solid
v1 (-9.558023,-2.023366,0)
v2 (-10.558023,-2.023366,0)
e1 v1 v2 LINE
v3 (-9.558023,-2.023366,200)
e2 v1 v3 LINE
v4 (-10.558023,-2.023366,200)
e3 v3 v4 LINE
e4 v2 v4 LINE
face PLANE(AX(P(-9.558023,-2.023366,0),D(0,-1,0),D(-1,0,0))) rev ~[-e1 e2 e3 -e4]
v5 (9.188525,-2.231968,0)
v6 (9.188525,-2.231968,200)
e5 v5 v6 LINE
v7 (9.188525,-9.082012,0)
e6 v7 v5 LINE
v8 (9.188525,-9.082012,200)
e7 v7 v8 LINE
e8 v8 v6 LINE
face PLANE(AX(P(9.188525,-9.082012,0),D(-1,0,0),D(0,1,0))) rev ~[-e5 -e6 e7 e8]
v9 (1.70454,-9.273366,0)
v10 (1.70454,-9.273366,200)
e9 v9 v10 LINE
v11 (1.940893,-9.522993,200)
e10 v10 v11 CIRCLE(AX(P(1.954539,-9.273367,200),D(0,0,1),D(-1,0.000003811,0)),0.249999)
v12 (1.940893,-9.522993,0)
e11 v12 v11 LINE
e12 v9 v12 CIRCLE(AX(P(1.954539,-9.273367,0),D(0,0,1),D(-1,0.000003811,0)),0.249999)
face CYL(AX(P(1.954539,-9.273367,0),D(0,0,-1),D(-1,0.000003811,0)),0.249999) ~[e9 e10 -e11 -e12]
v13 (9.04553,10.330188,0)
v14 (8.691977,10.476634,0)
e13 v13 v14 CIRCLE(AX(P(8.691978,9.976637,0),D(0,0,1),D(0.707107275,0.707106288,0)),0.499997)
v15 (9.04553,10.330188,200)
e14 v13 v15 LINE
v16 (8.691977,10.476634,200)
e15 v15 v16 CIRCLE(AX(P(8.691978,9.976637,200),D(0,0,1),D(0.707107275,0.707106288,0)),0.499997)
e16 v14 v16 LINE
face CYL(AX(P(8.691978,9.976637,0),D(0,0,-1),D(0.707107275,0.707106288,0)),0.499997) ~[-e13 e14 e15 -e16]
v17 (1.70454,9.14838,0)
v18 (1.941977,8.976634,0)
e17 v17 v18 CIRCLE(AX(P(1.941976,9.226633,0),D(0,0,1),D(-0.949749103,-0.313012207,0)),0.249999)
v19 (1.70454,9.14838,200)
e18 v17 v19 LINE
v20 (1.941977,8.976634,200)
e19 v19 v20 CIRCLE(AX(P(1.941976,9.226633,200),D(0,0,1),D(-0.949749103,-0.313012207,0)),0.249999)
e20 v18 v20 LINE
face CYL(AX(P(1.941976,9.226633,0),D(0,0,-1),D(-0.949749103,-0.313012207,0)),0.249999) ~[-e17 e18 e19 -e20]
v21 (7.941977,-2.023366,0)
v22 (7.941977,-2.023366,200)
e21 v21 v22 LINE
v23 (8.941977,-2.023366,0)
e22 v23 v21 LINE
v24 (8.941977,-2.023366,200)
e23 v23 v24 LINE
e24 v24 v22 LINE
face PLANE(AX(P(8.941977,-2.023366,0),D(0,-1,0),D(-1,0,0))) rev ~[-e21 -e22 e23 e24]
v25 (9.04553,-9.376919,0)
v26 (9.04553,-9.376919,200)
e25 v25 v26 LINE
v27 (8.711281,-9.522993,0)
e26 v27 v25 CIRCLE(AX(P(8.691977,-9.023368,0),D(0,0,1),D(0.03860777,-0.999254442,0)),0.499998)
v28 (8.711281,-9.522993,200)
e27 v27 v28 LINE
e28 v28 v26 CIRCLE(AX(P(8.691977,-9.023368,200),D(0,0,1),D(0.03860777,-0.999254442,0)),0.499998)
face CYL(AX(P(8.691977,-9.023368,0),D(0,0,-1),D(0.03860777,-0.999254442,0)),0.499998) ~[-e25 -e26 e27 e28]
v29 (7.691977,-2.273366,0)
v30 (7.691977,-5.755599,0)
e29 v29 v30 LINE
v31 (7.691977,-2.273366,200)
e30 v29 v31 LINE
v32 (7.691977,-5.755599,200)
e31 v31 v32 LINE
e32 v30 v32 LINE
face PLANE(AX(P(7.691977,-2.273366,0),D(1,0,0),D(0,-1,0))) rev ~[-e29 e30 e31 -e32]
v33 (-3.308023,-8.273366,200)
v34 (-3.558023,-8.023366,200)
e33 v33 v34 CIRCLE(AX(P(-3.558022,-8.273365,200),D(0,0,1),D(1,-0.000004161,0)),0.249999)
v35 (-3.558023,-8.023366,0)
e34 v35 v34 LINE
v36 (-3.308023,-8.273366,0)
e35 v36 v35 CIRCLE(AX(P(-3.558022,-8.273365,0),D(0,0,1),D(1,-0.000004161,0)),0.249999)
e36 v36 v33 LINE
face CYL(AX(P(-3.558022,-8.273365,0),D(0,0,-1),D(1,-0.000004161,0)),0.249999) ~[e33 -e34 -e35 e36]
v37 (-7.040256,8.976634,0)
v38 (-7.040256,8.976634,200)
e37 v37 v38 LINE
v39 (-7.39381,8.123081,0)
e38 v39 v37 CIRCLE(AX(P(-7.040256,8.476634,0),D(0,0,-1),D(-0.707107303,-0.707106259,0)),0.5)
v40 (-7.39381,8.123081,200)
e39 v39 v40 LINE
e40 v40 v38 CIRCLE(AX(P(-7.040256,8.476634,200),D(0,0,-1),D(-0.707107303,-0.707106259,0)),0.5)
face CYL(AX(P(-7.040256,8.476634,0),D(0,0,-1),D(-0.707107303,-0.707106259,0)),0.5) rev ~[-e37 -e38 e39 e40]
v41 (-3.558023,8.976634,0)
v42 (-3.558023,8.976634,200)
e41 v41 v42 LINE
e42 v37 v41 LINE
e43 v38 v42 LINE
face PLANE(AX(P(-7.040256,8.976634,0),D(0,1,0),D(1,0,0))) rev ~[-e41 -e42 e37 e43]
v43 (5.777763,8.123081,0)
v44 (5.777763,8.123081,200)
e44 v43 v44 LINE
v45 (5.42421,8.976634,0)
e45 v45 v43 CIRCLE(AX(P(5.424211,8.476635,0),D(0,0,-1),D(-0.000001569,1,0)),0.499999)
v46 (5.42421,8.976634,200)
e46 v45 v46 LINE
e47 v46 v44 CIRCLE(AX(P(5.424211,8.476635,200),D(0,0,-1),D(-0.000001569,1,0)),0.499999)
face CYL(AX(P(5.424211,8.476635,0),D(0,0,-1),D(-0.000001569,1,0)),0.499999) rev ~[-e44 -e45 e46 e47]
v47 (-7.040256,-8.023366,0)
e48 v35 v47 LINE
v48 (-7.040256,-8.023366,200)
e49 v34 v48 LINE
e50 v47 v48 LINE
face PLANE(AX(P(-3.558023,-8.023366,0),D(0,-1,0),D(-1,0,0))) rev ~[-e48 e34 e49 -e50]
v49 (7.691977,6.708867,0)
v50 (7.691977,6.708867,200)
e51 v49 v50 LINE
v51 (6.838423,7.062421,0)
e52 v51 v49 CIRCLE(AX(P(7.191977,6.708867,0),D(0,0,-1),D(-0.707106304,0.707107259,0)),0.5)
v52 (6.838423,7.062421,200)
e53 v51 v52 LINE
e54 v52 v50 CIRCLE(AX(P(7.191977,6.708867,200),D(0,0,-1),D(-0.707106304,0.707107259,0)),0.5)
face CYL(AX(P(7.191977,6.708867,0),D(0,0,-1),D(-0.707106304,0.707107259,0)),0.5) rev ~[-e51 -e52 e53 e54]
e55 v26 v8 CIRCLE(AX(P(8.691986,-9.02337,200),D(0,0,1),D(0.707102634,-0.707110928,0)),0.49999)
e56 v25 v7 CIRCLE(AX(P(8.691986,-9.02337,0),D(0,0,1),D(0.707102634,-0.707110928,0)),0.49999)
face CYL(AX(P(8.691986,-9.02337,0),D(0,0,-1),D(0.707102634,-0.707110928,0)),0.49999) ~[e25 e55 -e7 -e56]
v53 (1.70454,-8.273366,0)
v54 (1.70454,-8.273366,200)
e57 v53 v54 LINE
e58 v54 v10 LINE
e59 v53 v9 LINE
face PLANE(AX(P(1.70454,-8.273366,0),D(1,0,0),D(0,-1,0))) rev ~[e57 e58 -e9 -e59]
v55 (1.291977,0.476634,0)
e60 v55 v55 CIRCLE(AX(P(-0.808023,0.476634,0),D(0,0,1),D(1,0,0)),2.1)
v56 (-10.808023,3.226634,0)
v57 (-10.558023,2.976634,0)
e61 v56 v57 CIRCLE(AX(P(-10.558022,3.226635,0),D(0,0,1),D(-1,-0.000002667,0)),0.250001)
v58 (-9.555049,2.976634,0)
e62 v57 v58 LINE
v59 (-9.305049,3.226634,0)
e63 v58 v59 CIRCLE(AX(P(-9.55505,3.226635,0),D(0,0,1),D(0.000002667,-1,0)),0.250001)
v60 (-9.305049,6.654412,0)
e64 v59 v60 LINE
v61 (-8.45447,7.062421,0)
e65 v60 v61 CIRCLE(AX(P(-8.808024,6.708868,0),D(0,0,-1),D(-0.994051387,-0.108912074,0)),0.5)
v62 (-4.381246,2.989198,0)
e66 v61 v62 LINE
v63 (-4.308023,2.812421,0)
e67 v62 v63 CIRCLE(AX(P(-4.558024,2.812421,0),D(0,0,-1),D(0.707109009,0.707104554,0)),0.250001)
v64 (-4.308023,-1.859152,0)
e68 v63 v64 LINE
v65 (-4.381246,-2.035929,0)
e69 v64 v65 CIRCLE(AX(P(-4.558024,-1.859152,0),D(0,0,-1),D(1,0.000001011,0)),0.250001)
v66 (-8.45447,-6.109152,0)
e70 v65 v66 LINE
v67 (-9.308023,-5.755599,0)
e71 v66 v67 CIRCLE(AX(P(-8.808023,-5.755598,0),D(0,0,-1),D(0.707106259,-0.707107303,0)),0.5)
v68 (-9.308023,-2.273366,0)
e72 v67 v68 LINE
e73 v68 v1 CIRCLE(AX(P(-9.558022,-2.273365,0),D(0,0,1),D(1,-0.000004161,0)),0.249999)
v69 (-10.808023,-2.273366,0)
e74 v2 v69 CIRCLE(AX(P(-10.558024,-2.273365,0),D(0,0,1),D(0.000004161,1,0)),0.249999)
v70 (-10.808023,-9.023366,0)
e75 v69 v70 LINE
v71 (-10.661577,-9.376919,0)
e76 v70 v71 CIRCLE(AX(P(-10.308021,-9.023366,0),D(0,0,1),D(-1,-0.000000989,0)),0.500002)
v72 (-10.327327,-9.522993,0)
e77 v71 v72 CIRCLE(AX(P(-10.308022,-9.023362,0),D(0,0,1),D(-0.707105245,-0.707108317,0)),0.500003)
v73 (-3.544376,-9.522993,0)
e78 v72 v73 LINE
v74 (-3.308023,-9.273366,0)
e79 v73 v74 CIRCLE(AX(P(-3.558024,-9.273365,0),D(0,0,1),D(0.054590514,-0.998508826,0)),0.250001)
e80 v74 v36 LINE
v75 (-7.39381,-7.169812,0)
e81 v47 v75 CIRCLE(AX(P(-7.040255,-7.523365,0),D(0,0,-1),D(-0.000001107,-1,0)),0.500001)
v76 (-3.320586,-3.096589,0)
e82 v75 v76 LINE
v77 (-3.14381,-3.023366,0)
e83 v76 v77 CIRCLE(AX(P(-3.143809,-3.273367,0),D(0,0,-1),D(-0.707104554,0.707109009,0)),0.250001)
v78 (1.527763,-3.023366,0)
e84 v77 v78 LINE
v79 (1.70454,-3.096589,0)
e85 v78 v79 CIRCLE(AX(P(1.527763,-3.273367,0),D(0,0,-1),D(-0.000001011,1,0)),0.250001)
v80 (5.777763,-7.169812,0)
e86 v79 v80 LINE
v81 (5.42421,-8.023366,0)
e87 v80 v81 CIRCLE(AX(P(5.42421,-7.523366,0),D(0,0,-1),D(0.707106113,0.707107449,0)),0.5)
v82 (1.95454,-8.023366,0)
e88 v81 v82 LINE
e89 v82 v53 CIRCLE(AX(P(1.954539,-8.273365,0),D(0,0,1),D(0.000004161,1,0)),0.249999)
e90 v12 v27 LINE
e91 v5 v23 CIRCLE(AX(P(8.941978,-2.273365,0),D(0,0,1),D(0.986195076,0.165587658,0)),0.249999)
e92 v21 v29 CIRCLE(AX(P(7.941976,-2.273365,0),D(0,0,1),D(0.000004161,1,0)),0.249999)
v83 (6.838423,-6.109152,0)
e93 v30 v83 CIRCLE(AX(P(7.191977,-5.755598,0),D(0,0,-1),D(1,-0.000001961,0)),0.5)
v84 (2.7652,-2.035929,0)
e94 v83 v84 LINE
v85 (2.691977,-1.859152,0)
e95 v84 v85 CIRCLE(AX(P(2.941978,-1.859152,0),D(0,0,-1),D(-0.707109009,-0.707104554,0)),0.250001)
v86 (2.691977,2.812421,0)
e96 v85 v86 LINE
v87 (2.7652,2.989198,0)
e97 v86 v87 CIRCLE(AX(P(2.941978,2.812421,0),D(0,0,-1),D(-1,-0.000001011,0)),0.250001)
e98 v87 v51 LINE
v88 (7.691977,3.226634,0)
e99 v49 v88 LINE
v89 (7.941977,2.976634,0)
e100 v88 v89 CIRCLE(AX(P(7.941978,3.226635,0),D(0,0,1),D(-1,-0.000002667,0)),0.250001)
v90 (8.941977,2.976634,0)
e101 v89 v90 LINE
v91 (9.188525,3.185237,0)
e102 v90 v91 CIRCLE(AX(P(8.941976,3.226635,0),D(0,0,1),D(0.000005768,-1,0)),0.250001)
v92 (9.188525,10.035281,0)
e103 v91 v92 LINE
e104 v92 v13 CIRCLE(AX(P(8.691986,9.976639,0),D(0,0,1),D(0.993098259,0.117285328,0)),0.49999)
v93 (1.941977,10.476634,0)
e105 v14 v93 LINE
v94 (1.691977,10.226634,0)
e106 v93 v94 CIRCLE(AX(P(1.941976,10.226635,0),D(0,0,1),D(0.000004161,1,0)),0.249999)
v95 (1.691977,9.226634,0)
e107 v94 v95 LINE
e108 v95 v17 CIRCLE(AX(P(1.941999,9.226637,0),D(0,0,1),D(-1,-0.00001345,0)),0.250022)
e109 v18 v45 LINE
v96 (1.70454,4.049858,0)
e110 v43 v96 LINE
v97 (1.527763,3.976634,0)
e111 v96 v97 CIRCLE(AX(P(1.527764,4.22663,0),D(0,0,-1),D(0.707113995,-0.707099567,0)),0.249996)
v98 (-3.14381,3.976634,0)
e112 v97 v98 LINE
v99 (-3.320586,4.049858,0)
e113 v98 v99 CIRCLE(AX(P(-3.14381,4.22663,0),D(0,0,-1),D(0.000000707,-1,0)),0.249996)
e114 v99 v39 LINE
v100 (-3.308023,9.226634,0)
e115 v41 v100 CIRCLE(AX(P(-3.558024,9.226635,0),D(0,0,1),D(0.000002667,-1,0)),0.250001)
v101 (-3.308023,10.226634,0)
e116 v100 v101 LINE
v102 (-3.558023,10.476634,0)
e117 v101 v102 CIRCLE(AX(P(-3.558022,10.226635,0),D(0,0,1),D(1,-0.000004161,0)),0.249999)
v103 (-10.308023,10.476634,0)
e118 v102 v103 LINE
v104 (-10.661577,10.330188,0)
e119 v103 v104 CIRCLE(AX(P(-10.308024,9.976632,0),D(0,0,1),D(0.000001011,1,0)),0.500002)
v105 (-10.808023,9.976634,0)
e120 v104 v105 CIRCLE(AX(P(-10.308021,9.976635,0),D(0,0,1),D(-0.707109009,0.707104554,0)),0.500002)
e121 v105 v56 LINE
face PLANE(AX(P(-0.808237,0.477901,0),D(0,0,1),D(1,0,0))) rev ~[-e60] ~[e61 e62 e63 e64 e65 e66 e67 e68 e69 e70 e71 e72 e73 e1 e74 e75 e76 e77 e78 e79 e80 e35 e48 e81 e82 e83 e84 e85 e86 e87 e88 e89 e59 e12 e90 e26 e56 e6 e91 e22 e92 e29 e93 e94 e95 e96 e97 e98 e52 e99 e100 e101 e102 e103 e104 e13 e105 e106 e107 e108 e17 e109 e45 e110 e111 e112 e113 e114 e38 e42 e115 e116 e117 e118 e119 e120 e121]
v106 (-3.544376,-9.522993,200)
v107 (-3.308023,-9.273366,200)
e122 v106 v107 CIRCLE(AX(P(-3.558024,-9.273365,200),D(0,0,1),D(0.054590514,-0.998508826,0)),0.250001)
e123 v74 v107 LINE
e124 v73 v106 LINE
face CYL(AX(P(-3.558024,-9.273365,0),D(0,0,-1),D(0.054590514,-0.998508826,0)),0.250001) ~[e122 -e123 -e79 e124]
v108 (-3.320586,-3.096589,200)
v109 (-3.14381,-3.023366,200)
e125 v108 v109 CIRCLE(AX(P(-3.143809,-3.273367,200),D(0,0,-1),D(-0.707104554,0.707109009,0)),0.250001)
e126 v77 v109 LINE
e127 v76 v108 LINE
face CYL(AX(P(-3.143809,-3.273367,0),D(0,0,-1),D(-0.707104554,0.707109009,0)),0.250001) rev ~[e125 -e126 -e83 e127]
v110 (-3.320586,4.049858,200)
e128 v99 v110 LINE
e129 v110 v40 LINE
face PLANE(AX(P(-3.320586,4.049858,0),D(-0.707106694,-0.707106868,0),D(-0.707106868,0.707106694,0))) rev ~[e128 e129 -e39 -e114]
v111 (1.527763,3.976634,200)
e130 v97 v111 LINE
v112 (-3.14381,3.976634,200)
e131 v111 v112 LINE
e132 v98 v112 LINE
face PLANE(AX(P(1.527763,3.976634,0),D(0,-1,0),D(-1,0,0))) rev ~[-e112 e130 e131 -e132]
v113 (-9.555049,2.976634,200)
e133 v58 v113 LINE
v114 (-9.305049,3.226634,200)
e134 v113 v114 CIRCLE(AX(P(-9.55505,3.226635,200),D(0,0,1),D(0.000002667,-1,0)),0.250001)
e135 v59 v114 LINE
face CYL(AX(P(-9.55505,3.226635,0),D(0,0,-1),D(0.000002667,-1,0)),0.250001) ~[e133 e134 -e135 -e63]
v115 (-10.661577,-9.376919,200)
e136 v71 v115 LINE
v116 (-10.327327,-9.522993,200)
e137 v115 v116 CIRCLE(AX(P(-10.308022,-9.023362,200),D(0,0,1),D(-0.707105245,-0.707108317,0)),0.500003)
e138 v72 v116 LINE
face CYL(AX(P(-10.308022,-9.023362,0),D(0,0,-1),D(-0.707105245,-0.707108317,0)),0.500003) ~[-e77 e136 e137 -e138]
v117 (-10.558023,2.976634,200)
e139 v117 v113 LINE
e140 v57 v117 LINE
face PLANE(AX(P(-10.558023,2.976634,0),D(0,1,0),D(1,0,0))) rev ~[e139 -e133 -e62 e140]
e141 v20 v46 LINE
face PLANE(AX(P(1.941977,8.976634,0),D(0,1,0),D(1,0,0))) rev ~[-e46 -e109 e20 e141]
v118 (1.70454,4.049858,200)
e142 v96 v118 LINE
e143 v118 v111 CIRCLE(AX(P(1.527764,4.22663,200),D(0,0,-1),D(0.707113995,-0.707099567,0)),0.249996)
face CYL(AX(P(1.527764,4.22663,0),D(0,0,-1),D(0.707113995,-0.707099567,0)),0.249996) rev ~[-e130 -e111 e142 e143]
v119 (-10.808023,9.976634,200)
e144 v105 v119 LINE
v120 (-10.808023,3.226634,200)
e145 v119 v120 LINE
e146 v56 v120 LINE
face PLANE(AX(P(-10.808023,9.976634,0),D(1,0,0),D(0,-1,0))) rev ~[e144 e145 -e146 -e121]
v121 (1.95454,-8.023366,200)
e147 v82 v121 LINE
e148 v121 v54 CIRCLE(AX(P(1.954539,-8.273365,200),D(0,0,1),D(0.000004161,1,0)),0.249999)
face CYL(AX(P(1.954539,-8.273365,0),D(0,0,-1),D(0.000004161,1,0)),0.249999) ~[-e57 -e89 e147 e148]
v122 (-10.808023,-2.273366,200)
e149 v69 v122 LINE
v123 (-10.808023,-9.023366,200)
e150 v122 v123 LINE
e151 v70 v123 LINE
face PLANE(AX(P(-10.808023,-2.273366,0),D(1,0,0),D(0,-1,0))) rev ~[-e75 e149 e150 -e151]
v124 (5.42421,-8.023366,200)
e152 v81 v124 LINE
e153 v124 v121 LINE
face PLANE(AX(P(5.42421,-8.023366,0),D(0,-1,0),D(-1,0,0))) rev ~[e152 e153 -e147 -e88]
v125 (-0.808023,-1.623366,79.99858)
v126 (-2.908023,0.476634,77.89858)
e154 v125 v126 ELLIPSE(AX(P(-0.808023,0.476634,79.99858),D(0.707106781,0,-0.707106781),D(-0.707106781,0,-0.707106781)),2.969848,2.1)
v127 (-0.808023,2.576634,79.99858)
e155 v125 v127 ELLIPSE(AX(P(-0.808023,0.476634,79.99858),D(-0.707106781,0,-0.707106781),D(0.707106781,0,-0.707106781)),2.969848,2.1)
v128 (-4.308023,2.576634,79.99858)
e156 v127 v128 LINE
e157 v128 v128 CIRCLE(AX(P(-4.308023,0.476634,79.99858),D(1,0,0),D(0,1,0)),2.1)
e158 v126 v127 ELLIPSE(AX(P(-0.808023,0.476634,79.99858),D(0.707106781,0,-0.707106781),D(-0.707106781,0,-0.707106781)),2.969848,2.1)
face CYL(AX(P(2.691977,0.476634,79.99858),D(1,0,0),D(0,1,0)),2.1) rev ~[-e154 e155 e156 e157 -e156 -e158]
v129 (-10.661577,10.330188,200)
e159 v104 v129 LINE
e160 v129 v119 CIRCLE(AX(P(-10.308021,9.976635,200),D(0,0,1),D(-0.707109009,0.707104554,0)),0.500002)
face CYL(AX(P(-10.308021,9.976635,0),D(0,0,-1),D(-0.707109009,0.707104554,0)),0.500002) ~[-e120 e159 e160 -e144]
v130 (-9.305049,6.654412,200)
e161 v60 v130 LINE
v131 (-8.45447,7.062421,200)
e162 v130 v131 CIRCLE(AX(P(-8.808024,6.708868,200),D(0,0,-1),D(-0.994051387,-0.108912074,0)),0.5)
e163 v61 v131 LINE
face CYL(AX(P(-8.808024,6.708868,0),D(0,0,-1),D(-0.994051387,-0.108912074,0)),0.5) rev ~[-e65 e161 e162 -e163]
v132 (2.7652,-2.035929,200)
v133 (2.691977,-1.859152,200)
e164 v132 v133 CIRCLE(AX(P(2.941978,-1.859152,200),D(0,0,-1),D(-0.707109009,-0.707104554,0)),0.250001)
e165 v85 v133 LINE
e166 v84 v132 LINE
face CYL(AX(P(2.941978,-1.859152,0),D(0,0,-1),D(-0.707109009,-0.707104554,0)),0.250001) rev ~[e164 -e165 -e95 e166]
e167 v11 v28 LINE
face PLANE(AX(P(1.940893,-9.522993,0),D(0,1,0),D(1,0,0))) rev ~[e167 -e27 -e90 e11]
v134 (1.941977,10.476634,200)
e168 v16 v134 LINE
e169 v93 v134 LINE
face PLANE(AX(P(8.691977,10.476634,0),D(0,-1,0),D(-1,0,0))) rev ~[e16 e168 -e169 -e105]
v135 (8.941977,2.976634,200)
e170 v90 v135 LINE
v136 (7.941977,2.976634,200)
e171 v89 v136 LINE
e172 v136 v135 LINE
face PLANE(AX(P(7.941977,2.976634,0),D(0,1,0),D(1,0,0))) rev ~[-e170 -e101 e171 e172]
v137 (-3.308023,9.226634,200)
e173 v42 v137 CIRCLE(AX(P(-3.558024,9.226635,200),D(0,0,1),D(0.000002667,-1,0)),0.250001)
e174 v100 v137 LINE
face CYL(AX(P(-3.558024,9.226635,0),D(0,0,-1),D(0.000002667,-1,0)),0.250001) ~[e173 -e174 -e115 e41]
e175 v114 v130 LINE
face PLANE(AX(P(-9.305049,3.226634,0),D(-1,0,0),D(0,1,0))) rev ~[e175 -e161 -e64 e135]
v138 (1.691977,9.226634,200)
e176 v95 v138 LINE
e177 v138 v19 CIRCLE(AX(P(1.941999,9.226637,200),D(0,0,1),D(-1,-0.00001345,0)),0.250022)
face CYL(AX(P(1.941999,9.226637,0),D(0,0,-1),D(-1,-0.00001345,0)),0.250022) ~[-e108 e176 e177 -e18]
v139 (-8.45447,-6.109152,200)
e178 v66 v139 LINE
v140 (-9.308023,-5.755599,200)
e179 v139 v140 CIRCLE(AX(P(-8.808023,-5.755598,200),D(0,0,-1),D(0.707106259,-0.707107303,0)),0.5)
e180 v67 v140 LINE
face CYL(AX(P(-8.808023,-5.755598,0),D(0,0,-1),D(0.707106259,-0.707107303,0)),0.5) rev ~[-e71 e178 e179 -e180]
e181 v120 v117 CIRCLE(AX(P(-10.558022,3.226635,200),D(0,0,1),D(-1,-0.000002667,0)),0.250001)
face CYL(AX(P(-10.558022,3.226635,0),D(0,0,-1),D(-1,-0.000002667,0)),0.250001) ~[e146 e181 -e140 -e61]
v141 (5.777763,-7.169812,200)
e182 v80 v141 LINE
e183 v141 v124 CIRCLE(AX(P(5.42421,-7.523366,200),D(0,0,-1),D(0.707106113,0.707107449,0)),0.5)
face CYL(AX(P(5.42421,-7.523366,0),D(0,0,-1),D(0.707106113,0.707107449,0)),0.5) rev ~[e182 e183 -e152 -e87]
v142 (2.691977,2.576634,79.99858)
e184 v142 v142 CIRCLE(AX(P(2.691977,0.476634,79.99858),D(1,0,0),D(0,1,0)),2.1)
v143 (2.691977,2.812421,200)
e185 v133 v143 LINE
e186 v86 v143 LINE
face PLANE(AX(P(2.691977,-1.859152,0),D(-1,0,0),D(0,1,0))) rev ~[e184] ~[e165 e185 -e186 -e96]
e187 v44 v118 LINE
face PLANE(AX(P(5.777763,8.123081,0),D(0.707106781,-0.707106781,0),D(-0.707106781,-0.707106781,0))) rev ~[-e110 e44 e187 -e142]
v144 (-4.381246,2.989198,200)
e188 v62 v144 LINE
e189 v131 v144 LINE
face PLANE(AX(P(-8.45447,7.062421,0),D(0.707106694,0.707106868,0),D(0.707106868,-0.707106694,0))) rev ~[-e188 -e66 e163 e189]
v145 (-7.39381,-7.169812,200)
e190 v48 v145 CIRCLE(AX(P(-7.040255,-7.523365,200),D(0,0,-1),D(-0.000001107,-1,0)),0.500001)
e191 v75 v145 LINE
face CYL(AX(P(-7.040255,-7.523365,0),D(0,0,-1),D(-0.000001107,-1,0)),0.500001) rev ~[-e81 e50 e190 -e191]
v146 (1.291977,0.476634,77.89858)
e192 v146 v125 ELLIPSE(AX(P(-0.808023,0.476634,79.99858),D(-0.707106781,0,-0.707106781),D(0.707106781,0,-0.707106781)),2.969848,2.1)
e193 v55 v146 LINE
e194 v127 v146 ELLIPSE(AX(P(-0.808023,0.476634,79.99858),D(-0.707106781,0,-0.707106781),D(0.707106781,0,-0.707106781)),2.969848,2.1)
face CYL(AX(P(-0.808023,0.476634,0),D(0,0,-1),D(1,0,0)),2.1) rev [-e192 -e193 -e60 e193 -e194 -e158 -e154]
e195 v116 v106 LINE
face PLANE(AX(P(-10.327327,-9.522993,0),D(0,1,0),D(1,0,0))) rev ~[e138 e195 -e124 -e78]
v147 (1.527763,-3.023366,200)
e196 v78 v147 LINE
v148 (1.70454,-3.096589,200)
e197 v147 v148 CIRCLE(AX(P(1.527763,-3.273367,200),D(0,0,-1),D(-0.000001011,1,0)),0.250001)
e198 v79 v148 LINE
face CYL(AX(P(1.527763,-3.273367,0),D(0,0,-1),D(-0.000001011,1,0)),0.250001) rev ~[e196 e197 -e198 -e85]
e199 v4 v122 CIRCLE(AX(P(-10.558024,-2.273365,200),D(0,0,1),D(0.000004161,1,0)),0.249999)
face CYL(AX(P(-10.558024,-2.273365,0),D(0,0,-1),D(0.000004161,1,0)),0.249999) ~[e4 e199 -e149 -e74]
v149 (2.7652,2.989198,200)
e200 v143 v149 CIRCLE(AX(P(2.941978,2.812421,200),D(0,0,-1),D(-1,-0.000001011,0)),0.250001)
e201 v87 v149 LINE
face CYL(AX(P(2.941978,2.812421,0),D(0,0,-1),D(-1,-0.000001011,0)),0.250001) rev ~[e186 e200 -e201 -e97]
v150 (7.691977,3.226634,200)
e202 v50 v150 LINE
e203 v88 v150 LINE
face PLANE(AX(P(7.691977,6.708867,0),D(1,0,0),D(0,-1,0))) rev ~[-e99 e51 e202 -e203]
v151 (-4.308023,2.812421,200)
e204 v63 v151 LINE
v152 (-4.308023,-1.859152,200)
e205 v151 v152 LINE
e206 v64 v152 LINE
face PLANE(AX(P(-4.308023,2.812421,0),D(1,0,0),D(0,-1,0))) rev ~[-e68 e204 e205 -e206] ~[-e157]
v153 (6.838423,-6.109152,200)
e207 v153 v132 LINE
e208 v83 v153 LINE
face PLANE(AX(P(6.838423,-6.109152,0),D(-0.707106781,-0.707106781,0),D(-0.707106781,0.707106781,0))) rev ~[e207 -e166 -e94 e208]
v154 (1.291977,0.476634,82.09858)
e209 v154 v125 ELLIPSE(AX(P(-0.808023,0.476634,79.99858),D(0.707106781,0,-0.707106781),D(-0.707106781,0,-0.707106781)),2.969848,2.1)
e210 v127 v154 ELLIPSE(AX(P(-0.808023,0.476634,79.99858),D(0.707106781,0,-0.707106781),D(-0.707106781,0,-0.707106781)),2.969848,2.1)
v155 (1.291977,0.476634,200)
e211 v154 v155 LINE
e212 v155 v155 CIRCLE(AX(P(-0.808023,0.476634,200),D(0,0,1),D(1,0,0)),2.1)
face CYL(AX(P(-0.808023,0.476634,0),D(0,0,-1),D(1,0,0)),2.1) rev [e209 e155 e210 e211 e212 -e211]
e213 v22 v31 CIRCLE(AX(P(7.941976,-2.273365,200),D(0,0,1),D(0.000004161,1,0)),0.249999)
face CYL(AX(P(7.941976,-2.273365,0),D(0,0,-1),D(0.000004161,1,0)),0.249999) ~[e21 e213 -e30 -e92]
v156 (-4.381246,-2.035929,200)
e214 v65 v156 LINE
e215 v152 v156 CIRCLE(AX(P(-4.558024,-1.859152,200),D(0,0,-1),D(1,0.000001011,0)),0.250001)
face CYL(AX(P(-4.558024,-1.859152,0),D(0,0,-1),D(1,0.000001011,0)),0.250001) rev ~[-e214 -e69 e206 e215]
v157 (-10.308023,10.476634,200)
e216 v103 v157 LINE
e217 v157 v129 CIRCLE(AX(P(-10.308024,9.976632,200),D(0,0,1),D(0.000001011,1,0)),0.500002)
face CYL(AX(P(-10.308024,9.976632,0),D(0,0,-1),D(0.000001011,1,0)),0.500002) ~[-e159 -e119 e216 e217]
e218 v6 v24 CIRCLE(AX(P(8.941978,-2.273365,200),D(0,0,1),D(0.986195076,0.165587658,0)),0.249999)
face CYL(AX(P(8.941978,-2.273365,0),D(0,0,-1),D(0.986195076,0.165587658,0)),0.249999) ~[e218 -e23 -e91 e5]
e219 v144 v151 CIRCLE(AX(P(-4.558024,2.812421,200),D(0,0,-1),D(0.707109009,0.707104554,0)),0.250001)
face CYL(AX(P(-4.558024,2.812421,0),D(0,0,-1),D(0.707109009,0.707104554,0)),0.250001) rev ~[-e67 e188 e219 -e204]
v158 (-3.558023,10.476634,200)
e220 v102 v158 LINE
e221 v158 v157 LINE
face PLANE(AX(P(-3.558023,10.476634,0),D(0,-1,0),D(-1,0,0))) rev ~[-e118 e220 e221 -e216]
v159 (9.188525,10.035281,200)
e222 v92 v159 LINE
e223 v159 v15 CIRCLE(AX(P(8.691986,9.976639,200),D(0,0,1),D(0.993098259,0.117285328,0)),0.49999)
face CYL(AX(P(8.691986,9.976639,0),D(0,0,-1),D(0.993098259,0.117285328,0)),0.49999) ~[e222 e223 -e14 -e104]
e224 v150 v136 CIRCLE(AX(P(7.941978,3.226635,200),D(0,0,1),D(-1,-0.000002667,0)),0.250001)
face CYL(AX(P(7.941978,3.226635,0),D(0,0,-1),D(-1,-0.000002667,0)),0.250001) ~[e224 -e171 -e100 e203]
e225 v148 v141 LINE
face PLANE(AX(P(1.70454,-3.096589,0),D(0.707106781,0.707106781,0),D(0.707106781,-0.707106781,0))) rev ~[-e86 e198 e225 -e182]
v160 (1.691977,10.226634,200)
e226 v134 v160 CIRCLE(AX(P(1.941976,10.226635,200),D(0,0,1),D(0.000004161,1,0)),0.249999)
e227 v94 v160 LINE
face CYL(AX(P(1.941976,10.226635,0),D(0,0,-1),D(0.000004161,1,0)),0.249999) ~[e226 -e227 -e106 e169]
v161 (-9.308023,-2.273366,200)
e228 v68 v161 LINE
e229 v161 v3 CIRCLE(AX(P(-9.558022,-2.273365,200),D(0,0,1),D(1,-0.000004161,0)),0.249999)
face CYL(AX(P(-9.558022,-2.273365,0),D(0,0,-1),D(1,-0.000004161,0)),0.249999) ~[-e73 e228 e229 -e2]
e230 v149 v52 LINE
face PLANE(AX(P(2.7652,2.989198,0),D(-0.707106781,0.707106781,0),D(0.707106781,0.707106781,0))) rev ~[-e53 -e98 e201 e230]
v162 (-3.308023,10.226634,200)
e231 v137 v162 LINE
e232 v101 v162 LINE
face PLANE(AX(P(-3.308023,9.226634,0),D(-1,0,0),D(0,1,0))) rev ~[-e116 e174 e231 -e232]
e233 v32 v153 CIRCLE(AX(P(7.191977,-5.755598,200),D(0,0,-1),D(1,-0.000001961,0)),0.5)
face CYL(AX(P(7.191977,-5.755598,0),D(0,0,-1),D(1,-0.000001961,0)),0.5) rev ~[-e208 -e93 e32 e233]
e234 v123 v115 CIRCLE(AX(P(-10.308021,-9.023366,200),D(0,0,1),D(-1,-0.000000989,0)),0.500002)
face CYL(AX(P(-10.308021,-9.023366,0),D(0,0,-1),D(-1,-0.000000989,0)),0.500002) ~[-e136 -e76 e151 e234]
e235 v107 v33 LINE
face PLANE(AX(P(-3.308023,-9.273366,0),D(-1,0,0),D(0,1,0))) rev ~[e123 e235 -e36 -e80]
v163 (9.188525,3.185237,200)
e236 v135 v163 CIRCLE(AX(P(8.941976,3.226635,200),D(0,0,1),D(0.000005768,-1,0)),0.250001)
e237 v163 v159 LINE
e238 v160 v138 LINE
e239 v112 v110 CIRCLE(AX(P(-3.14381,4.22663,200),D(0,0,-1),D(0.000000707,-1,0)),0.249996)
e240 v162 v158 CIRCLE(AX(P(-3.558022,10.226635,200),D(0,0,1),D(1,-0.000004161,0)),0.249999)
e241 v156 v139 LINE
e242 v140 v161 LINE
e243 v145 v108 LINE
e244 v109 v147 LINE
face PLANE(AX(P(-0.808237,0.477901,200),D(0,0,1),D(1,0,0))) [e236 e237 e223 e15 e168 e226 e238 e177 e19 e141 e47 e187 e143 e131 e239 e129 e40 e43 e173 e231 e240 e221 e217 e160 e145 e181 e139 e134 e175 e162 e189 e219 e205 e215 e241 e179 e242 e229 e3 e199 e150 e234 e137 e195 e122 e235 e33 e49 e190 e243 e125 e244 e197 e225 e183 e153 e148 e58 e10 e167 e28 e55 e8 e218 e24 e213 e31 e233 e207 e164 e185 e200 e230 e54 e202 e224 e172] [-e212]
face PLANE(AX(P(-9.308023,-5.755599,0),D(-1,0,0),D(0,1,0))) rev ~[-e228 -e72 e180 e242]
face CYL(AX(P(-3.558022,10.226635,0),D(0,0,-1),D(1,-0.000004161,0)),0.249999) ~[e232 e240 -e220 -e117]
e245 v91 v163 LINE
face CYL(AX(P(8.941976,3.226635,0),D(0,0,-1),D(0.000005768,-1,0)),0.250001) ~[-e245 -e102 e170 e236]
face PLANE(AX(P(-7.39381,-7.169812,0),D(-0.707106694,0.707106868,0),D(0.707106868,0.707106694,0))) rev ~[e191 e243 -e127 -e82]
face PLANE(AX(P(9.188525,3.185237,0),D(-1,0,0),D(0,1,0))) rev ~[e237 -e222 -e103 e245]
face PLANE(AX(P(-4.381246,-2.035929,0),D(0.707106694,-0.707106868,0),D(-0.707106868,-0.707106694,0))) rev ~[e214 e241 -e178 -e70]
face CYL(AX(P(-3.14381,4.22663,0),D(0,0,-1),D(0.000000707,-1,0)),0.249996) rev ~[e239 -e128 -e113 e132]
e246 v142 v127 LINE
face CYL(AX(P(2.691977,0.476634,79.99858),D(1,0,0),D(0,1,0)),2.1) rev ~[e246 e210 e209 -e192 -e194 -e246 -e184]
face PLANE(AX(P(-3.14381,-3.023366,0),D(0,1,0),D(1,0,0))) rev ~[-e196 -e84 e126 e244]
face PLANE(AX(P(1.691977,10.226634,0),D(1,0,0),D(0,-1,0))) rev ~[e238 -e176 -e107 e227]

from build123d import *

# Parameters (mm, degrees)
F0_R     = 2.1
F1_DEPTH = 200
F2_R     = 2.1
F3_DEPTH = 7


with BuildPart() as f1:
    # F0 (on Top) → F1 (new body)
    with BuildSketch(Plane.XY):
        with BuildLine():
            ThreePointArc((-3.308023, 10.226634), (-3.381246, 10.403411), (-3.558023, 10.476634))
            Line((-3.558023, 10.476634), (-10.308023, 10.476634))
            ThreePointArc((-10.308023, 10.476634), (-10.499365, 10.438574), (-10.661577, 10.330188))
            ThreePointArc((-10.661577, 10.330188), (-10.769963, 10.167976), (-10.808023, 9.976634))
            Line((-10.808023, 9.976634), (-10.808023, 3.226634))
            ThreePointArc((-10.808023, 3.226634), (-10.7348, 3.049858), (-10.558023, 2.976634))
            Line((-10.558023, 2.976634), (-9.555049, 2.976634))
            ThreePointArc((-9.555049, 2.976634), (-9.378272, 3.049858), (-9.305049, 3.226634))
            Line((-9.305049, 3.226634), (-9.305049, 6.654412))
            ThreePointArc((-9.305049, 6.654412), (-9.024273, 7.159685), (-8.45447, 7.062421))
            Line((-8.45447, 7.062421), (-4.381246, 2.989198))
            ThreePointArc((-4.381246, 2.989198), (-4.327053, 2.908092), (-4.308023, 2.812421))
            Line((-4.308023, 2.812421), (-4.308023, -1.859152))
            ThreePointArc((-4.308023, -1.859152), (-4.327053, -1.954823), (-4.381246, -2.035929))
            Line((-4.381246, -2.035929), (-8.45447, -6.109152))
            ThreePointArc((-8.45447, -6.109152), (-8.999365, -6.217538), (-9.308023, -5.755599))
            Line((-9.308023, -5.755599), (-9.308023, -2.273366))
            ThreePointArc((-9.308023, -2.273366), (-9.381246, -2.096589), (-9.558023, -2.023366))
            Line((-9.558023, -2.023366), (-10.558023, -2.023366))
            ThreePointArc((-10.558023, -2.023366), (-10.7348, -2.096589), (-10.808023, -2.273366))
            Line((-10.808023, -2.273366), (-10.808023, -9.023366))
            ThreePointArc((-10.808023, -9.023366), (-10.769963, -9.214707), (-10.661577, -9.376919))
            ThreePointArc((-10.661577, -9.376919), (-10.508248, -9.481525), (-10.327327, -9.522993))
            Line((-10.327327, -9.522993), (-3.544376, -9.522993))
            ThreePointArc((-3.544376, -9.522993), (-3.376486, -9.44525), (-3.308023, -9.273366))
            Line((-3.308023, -9.273366), (-3.308023, -8.273366))
            ThreePointArc((-3.308023, -8.273366), (-3.381246, -8.096589), (-3.558023, -8.023366))
            Line((-3.558023, -8.023366), (-7.040256, -8.023366))
            ThreePointArc((-7.040256, -8.023366), (-7.502196, -7.714707), (-7.39381, -7.169812))
            Line((-7.39381, -7.169812), (-3.320586, -3.096589))
            ThreePointArc((-3.320586, -3.096589), (-3.23948, -3.042396), (-3.14381, -3.023366))
            Line((-3.14381, -3.023366), (1.527763, -3.023366))
            ThreePointArc((1.527763, -3.023366), (1.623434, -3.042396), (1.70454, -3.096589))
            Line((1.70454, -3.096589), (5.777763, -7.169812))
            ThreePointArc((5.777763, -7.169812), (5.88615, -7.714707), (5.42421, -8.023366))
            Line((5.42421, -8.023366), (1.95454, -8.023366))
            ThreePointArc((1.95454, -8.023366), (1.777763, -8.096589), (1.70454, -8.273366))
            Line((1.70454, -8.273366), (1.70454, -9.273366))
            ThreePointArc((1.70454, -9.273366), (1.773002, -9.44525), (1.940893, -9.522993))
            Line((1.940893, -9.522993), (8.711281, -9.522993))
            ThreePointArc((8.711281, -9.522993), (8.892202, -9.481525), (9.04553, -9.376919))
            ThreePointArc((9.04553, -9.376919), (9.141878, -9.241515), (9.188525, -9.082012))
            Line((9.188525, -9.082012), (9.188525, -2.231968))
            ThreePointArc((9.188525, -2.231968), (9.103455, -2.082513), (8.941977, -2.023366))
            Line((8.941977, -2.023366), (7.941977, -2.023366))
            ThreePointArc((7.941977, -2.023366), (7.7652, -2.096589), (7.691977, -2.273366))
            Line((7.691977, -2.273366), (7.691977, -5.755599))
            ThreePointArc((7.691977, -5.755599), (7.383319, -6.217538), (6.838423, -6.109152))
            Line((6.838423, -6.109152), (2.7652, -2.035929))
            ThreePointArc((2.7652, -2.035929), (2.711007, -1.954823), (2.691977, -1.859152))
            Line((2.691977, -1.859152), (2.691977, 2.812421))
            ThreePointArc((2.691977, 2.812421), (2.711007, 2.908092), (2.7652, 2.989198))
            Line((2.7652, 2.989198), (6.838423, 7.062421))
            ThreePointArc((6.838423, 7.062421), (7.383319, 7.170807), (7.691977, 6.708867))
            Line((7.691977, 6.708867), (7.691977, 3.226634))
            ThreePointArc((7.691977, 3.226634), (7.7652, 3.049858), (7.941977, 2.976634))
            Line((7.941977, 2.976634), (8.941977, 2.976634))
            ThreePointArc((8.941977, 2.976634), (9.103455, 3.035782), (9.188525, 3.185237))
            Line((9.188525, 3.185237), (9.188525, 10.035281))
            ThreePointArc((9.188525, 10.035281), (9.141878, 10.194784), (9.04553, 10.330188))
            ThreePointArc((9.04553, 10.330188), (8.883319, 10.438574), (8.691977, 10.476634))
            Line((8.691977, 10.476634), (1.941977, 10.476634))
            ThreePointArc((1.941977, 10.476634), (1.7652, 10.403411), (1.691977, 10.226634))
            Line((1.691977, 10.226634), (1.691977, 9.226634))
            ThreePointArc((1.691977, 9.226634), (1.695138, 9.187006), (1.70454, 9.14838))
            ThreePointArc((1.70454, 9.14838), (1.795456, 9.024071), (1.941977, 8.976634))
            Line((1.941977, 8.976634), (5.42421, 8.976634))
            ThreePointArc((5.42421, 8.976634), (5.88615, 8.667976), (5.777763, 8.123081))
            Line((5.777763, 8.123081), (1.70454, 4.049858))
            ThreePointArc((1.70454, 4.049858), (1.623434, 3.995664), (1.527763, 3.976634))
            Line((1.527763, 3.976634), (-3.14381, 3.976634))
            ThreePointArc((-3.14381, 3.976634), (-3.23948, 3.995664), (-3.320586, 4.049858))
            Line((-3.320586, 4.049858), (-7.39381, 8.123081))
            ThreePointArc((-7.39381, 8.123081), (-7.502196, 8.667976), (-7.040256, 8.976634))
            Line((-7.040256, 8.976634), (-3.558023, 8.976634))
            ThreePointArc((-3.558023, 8.976634), (-3.381246, 9.049858), (-3.308023, 9.226634))
            Line((-3.308023, 9.226634), (-3.308023, 9.726634))
            Line((-3.308023, 9.726634), (-3.308023, 10.226634))
        make_face()
        with Locations((-0.808023, 0.476634)):
            Circle(F0_R, mode=Mode.SUBTRACT)
    extrude(amount=F1_DEPTH)

    # F2 (on face) → F3 (cut)
    with BuildSketch(Plane.YZ.offset(2.691977)):
        with Locations((0.476634, 79.99858)):
            Circle(F2_R)
    extrude(amount=-F3_DEPTH, mode=Mode.SUBTRACT)


solid = f1.part
